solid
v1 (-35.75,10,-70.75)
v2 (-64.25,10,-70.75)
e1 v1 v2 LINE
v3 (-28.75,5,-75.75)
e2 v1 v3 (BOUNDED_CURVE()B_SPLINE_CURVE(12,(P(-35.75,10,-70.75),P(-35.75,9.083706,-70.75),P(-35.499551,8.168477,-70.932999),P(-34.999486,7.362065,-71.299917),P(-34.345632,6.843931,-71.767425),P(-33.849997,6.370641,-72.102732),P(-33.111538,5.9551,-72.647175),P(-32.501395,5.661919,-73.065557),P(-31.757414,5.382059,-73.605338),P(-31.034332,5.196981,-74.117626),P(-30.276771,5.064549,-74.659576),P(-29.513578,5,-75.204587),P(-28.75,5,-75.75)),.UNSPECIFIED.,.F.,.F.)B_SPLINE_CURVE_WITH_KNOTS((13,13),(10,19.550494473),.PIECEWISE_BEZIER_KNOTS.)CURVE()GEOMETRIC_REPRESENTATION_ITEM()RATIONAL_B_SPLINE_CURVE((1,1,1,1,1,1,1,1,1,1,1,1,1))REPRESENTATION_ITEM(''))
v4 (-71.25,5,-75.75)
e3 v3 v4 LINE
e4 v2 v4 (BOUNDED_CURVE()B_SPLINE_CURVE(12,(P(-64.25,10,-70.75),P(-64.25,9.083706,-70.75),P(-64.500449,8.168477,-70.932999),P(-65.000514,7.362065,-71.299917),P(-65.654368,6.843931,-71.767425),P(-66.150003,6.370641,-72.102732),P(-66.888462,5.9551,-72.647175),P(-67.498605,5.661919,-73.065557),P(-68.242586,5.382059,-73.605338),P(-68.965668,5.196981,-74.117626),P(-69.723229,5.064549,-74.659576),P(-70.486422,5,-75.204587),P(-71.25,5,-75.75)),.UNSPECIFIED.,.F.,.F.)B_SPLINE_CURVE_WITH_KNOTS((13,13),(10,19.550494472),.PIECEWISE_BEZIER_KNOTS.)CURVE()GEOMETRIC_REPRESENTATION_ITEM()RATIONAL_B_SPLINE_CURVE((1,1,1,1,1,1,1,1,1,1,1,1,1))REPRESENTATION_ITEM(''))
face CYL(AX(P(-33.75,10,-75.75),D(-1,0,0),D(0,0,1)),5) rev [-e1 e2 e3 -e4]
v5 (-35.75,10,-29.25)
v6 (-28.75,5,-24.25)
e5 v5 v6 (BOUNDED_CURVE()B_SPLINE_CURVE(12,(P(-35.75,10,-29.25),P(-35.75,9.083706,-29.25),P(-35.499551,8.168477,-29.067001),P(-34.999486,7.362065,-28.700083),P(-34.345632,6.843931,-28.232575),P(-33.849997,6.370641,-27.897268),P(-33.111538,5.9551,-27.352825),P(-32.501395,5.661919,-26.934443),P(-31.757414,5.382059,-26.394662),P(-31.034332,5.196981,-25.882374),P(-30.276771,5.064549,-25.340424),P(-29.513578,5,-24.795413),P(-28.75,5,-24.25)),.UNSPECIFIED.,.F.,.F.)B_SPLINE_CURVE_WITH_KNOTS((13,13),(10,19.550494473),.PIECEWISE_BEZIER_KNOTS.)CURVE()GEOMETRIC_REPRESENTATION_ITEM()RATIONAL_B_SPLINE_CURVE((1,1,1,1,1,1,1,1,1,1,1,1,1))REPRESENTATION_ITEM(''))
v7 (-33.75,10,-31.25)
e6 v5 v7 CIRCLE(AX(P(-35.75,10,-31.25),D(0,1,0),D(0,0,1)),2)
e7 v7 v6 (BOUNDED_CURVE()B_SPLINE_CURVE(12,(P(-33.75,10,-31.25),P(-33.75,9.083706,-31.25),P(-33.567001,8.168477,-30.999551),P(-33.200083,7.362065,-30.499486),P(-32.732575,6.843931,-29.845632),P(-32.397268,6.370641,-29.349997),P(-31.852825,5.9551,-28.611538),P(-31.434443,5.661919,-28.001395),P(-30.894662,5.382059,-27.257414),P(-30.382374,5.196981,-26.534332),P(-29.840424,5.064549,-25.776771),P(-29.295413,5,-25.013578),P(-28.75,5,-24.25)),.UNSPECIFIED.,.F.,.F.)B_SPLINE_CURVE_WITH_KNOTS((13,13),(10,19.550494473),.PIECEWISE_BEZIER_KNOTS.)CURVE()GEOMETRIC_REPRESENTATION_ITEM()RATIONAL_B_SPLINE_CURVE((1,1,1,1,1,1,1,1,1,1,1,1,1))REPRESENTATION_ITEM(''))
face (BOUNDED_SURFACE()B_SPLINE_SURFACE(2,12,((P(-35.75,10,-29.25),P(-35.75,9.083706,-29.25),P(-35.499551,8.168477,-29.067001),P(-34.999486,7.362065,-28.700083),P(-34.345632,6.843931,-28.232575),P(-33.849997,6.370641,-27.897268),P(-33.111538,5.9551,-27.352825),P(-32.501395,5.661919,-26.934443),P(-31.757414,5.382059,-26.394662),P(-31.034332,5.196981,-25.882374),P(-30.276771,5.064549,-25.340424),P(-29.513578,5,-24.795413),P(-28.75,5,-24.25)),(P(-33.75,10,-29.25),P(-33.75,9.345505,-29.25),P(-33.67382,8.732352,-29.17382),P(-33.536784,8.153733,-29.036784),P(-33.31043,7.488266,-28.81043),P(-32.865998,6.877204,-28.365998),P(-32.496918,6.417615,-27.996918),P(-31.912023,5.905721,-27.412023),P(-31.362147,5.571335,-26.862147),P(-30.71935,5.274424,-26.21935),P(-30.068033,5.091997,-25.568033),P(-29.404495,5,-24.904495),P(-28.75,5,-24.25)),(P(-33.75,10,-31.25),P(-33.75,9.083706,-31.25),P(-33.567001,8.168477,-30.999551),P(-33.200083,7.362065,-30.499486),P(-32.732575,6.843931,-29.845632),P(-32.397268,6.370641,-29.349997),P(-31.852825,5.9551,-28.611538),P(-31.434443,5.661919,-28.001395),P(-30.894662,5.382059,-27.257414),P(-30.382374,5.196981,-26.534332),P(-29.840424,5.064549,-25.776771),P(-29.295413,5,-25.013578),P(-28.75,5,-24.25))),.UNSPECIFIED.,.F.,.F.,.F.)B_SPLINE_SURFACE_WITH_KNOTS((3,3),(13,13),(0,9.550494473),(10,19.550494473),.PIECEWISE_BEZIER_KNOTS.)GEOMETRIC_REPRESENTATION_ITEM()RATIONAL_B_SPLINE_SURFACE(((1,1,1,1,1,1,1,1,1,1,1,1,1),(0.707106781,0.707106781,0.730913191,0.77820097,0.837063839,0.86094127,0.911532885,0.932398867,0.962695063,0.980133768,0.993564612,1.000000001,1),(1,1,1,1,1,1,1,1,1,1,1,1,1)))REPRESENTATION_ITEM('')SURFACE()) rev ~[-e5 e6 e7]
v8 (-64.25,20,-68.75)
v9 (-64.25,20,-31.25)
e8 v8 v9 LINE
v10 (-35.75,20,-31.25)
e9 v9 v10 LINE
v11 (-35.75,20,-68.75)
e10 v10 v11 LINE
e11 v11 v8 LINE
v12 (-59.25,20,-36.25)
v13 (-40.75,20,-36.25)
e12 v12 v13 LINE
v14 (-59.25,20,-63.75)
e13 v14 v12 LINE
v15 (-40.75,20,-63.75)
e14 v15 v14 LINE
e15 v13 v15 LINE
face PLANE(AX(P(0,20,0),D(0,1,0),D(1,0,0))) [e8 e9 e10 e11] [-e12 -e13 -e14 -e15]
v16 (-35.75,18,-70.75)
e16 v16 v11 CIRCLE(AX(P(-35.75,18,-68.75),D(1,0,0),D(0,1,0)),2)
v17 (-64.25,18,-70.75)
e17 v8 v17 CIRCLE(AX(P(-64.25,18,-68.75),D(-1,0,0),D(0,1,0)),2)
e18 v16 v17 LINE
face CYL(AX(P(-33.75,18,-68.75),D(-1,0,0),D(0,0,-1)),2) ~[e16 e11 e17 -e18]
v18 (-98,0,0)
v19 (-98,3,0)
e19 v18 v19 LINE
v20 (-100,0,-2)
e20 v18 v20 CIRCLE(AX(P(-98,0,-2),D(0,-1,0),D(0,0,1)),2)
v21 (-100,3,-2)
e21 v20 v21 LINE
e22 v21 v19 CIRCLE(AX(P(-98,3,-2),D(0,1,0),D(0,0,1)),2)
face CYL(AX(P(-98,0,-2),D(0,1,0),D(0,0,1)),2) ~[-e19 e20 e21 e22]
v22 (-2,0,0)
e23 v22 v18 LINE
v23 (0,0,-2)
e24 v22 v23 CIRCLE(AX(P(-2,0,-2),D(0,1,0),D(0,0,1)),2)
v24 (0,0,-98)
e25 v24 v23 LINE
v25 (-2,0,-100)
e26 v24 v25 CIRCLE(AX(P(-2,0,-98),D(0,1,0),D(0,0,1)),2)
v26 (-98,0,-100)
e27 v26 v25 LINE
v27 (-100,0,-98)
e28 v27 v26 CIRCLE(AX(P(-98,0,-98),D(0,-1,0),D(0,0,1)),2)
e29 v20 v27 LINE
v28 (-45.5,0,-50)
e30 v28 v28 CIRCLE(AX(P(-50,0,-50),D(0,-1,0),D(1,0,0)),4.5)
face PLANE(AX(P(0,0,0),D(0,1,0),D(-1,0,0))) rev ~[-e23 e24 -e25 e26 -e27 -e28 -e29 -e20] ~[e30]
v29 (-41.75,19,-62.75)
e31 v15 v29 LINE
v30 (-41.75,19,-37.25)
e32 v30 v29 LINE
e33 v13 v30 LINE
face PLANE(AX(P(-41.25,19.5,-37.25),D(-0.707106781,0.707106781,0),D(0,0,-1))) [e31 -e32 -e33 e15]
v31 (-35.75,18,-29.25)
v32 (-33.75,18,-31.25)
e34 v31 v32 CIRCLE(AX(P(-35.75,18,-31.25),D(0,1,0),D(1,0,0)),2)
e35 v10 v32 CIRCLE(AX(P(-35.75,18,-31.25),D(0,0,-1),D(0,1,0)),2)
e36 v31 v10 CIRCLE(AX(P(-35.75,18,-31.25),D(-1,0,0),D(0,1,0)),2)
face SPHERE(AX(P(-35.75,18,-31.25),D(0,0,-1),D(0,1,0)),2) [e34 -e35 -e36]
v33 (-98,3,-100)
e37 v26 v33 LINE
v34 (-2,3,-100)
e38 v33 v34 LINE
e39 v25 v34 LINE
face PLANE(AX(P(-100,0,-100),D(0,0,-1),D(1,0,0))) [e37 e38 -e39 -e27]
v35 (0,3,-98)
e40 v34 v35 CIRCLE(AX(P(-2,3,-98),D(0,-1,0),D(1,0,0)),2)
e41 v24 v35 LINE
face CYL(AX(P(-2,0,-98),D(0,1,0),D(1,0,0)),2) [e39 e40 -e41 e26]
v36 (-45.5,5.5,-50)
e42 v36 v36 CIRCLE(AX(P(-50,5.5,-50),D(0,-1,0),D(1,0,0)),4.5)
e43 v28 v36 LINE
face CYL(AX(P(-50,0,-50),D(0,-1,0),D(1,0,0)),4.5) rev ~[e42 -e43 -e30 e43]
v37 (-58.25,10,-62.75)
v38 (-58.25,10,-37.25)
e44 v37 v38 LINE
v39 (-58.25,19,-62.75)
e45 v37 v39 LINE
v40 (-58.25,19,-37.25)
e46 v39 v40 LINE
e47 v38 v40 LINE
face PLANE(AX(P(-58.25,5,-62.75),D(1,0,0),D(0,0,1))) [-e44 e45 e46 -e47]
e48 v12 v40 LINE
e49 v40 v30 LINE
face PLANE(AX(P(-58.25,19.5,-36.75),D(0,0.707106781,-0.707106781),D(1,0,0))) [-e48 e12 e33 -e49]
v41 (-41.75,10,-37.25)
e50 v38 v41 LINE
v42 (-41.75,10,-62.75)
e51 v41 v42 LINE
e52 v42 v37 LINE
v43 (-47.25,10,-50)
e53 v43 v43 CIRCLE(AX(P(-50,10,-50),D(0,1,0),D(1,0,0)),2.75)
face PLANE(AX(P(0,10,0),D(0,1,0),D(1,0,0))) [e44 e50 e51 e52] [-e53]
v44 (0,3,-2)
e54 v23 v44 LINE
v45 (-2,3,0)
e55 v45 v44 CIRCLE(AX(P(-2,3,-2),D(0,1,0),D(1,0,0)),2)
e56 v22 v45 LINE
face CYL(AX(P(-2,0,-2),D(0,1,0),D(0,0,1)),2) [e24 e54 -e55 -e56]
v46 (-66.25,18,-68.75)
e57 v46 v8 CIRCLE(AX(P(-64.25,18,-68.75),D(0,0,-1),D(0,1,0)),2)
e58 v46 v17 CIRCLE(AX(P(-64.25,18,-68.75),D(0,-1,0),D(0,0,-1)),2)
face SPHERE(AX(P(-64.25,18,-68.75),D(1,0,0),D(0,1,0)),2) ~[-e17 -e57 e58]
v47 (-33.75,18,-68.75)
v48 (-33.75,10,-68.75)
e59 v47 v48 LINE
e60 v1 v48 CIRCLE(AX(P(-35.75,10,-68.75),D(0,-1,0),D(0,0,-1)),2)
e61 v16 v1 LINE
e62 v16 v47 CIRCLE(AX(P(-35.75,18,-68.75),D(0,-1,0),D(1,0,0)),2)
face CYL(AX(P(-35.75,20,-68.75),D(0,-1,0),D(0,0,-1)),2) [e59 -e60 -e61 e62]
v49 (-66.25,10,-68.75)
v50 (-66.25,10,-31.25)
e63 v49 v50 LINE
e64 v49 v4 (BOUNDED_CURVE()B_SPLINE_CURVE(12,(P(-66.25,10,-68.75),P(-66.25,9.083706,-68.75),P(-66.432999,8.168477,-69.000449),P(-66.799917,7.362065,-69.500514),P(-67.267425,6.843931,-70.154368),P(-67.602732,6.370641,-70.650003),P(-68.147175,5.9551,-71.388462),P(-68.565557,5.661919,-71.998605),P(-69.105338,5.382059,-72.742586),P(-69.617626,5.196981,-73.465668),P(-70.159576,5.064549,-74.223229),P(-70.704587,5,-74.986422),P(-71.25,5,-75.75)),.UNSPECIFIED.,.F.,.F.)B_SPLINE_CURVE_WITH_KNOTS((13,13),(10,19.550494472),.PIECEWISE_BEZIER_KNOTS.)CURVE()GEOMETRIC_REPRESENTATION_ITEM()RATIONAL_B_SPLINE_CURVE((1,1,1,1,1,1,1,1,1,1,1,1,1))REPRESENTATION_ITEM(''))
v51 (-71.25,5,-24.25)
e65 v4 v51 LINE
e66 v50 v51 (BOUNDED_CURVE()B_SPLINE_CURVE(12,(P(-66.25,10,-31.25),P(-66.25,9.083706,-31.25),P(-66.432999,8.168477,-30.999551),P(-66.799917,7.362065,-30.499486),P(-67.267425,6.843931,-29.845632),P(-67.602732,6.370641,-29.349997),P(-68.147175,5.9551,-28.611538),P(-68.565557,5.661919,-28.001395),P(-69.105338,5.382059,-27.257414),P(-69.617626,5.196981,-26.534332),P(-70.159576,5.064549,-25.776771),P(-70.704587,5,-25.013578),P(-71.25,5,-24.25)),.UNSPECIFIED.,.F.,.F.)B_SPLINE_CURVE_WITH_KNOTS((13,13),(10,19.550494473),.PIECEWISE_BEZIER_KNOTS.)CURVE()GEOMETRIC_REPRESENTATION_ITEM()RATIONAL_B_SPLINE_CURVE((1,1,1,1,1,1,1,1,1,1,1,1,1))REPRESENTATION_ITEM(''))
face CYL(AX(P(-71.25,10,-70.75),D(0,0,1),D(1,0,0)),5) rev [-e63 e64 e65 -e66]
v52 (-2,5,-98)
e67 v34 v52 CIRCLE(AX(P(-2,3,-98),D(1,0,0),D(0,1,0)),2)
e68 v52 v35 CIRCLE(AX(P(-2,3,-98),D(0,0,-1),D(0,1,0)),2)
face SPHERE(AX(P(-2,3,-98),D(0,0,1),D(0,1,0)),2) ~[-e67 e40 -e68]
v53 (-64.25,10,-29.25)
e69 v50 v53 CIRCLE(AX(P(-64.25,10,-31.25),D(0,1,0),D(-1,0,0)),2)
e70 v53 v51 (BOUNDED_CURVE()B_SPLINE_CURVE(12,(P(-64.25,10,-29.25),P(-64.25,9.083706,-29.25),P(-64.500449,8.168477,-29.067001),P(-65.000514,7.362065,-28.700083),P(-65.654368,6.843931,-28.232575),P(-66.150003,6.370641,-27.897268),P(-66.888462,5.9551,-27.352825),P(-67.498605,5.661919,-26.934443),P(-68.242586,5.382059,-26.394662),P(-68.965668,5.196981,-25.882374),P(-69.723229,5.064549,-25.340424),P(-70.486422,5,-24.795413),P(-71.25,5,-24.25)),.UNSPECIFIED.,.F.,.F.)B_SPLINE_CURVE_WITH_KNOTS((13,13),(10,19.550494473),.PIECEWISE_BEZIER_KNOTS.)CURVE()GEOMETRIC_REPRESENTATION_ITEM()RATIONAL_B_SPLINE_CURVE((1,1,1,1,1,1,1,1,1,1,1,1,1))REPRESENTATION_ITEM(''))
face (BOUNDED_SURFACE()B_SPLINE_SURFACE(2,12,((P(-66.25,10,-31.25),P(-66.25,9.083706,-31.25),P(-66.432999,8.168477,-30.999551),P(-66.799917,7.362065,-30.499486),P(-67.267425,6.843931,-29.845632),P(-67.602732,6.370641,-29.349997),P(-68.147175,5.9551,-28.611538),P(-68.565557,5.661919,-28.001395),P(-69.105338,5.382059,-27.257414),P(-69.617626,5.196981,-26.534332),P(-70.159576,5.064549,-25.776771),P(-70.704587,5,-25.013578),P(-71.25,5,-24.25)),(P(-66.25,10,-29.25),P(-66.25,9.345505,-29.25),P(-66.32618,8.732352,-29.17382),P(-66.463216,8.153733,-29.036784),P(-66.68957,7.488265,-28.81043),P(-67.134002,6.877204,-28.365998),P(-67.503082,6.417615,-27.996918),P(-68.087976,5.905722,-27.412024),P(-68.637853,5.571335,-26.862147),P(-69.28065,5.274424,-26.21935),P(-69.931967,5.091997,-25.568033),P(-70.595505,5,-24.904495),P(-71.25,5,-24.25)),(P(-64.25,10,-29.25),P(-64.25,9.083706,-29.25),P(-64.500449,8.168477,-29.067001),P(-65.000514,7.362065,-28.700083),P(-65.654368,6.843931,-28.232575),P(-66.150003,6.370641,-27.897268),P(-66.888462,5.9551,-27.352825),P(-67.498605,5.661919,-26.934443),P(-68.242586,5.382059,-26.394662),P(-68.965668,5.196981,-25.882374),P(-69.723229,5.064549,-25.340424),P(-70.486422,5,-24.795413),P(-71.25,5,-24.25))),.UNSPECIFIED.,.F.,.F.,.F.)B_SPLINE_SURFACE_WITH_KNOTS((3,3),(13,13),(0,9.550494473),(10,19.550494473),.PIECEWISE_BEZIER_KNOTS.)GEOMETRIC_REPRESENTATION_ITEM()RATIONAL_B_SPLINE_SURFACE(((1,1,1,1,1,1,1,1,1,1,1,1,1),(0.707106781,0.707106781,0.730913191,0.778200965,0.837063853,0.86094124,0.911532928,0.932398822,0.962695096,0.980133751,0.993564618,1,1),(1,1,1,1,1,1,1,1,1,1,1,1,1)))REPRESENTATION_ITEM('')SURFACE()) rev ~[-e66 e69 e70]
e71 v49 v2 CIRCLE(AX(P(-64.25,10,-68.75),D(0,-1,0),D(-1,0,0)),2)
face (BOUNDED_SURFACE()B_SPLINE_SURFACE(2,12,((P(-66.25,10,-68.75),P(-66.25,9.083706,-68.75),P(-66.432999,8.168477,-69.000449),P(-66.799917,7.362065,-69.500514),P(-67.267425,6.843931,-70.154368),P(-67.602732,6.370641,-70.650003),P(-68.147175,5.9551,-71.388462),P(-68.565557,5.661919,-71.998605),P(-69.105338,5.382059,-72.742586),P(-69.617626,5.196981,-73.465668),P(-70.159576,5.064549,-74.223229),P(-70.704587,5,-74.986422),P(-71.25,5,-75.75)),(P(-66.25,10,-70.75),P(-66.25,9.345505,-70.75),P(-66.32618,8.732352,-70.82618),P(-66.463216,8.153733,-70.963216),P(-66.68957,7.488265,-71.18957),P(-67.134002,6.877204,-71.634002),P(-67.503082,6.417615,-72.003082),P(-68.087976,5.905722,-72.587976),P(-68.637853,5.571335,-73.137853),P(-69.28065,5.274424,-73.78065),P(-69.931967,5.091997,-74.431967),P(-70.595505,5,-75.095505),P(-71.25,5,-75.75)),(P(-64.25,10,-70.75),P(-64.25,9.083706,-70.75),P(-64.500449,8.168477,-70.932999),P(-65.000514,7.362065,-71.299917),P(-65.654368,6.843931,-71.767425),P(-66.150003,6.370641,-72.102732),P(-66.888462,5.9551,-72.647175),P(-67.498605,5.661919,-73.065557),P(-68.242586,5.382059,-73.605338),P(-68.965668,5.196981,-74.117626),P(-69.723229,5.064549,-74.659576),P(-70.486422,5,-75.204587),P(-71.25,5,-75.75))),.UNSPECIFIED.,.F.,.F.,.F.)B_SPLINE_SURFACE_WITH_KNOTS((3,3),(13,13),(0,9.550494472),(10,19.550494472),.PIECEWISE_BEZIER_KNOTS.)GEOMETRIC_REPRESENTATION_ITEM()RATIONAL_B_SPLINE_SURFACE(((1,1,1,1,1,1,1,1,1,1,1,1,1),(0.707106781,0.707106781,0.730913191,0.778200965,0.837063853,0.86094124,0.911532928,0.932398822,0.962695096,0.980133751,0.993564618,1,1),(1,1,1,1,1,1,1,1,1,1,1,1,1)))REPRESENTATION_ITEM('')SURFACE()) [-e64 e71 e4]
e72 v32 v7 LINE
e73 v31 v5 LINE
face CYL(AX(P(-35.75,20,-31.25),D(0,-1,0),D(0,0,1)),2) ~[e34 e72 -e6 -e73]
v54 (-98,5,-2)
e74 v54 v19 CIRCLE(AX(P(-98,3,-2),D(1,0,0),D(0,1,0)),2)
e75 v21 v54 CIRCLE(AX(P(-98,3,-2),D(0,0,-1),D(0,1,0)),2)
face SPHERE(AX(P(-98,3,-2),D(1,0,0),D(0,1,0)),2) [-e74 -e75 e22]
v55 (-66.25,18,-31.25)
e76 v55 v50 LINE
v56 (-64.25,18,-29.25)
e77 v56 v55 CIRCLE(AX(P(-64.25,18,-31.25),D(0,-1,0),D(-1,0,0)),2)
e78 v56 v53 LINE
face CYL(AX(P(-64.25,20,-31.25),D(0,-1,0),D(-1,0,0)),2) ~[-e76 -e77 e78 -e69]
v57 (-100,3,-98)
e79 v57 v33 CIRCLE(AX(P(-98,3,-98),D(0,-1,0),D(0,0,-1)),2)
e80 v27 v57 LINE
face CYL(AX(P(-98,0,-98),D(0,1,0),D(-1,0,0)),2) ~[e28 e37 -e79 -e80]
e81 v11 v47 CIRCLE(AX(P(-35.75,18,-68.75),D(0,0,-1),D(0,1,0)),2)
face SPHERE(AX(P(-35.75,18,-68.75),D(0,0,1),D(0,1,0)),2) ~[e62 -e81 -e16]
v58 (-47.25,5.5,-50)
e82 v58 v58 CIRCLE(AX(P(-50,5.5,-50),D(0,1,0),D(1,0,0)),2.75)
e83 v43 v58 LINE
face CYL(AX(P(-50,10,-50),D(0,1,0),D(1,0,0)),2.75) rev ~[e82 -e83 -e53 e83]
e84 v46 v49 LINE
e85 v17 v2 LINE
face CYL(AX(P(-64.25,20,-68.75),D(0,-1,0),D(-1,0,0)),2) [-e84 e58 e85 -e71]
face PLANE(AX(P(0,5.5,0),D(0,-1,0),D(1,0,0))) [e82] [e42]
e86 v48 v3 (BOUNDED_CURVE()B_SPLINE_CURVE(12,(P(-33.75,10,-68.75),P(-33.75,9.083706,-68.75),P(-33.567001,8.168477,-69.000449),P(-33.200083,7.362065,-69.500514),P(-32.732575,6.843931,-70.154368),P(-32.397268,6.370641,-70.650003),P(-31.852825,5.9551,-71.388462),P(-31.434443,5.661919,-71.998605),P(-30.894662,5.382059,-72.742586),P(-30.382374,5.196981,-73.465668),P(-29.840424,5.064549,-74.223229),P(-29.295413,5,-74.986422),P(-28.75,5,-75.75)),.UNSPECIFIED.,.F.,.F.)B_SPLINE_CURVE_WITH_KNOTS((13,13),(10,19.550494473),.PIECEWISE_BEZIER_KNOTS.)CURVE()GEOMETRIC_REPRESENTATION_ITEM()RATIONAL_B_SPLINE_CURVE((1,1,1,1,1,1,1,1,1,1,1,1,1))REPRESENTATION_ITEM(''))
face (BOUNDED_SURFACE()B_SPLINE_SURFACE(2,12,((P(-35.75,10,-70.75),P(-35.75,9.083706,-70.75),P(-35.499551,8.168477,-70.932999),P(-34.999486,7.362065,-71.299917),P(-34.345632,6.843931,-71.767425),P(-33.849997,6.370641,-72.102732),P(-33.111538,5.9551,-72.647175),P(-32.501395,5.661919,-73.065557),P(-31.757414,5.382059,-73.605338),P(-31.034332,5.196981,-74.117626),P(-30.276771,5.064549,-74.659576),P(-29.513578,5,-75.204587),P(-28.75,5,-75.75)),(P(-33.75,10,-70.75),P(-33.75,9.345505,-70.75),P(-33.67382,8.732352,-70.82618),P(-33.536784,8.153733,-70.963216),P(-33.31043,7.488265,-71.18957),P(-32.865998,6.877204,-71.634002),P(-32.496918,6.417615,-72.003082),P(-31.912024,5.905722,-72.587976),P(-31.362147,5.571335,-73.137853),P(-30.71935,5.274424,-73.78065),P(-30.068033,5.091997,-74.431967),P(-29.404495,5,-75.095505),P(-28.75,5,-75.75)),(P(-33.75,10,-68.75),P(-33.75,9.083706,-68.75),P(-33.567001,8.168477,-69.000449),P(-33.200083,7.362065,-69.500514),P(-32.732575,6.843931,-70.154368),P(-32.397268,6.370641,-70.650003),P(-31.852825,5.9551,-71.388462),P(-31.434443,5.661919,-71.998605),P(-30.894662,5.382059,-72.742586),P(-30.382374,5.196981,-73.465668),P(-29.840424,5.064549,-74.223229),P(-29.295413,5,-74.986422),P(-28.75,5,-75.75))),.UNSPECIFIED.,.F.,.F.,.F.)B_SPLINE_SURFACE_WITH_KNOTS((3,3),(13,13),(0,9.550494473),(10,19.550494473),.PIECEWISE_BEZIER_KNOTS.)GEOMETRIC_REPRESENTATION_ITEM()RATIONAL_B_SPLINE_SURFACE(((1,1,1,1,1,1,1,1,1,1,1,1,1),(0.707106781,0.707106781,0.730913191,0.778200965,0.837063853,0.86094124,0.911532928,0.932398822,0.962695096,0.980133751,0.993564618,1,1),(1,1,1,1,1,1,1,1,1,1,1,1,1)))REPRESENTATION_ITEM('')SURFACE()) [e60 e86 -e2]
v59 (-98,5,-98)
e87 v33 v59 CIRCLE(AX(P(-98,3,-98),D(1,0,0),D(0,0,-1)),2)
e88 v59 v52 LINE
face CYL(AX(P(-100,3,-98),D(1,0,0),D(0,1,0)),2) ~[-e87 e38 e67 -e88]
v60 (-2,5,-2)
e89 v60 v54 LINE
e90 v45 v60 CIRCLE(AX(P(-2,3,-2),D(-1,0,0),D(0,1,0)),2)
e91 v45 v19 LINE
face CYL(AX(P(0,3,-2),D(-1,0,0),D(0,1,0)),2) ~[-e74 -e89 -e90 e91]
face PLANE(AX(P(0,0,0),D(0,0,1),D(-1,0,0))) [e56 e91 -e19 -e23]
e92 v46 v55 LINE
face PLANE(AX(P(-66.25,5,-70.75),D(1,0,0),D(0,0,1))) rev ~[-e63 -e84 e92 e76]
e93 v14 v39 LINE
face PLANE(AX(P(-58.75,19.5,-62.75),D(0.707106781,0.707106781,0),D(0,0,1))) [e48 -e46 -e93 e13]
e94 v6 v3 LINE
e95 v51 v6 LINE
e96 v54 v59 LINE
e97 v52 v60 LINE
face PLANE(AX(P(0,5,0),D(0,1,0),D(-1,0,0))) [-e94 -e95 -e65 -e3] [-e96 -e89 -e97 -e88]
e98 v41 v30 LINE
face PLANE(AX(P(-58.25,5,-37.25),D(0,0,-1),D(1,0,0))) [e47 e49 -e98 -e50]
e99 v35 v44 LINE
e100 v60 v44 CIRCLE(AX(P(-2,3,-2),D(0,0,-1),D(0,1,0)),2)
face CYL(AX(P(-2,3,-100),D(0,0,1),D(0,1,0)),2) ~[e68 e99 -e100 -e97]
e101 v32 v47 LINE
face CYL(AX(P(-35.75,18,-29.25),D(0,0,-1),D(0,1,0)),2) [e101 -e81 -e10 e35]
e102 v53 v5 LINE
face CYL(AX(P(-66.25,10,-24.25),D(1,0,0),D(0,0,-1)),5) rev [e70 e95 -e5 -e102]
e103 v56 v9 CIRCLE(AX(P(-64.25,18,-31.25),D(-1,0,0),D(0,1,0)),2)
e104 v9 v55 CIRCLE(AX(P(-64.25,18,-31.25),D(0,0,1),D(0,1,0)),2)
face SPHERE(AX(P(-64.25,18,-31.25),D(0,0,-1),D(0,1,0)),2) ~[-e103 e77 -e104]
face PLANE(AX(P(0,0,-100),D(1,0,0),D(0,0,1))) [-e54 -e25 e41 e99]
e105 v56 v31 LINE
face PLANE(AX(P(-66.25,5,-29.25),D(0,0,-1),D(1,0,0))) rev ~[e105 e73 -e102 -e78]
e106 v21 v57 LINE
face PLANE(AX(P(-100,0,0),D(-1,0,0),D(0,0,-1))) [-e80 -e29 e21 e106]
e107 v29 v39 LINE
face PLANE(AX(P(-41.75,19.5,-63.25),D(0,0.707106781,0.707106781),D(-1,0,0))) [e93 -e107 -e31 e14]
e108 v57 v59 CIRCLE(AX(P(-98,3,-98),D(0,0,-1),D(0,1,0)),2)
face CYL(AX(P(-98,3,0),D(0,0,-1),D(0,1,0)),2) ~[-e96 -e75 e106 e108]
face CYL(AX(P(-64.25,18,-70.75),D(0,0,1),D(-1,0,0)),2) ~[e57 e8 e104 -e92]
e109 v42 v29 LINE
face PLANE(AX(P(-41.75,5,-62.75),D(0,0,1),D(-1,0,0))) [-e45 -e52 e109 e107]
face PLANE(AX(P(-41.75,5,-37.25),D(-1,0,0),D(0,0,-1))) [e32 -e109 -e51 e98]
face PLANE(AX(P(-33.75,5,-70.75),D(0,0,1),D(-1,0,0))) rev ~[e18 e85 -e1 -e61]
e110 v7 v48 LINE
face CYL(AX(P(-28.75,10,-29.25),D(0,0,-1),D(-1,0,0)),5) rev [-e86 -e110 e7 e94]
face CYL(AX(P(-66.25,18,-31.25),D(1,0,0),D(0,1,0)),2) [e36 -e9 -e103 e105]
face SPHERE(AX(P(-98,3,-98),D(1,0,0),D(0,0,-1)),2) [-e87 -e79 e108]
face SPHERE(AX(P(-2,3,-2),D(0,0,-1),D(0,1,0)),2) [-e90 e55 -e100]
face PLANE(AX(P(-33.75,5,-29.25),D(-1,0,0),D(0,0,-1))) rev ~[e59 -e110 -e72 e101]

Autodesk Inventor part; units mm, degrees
ref_plane "YZ Plane" through (0, 0, 0) normal (1, 0, 0) x (0, 1, 0)
ref_plane "XZ Plane" through (0, 0, 0) normal (0, 1, 0) x (-1, 0, 0)
ref_plane "XY Plane" through (0, 0, 0) normal (0, 0, 1) x (1, 0, 0)
sketch "Sketch1" plane through (0, 0, 0) normal (0, 1, 0) x (-1, 0, 0)
  line L0 (0, 0) -> (100, 0)
  line L1 (100, 0) -> (100, -100)
  line L2 (100, -100) -> (0, -100)
  line L3 (0, -100) -> (0, 0)
  dimension "d0" = 100
  dimension "d1" = 100
extrude "Extrusion1" add sketch "Sketch1" along normal blind 5
sketch "Sketch2" plane through (0, 5, 0) normal (0, 1, 0) x (1, 0, 0)
  line L0 (0, 100) -> (-100, 100) projected
  line L1 (-100, 100) -> (-100, 0) projected
  line L2 (-100, 0) -> (0, 0) projected
  line L3 (0, 0) -> (0, 100) projected
  line L4 (-58.25, 37.25) -> (-41.75, 37.25)
  line L5 (-41.75, 37.25) -> (-41.75, 62.75)
  line L6 (-41.75, 62.75) -> (-58.25, 62.75)
  line L7 (-58.25, 62.75) -> (-58.25, 37.25)
  line L8 (-66.25, 29.25) -> (-33.75, 29.25)
  line L9 (-33.75, 29.25) -> (-33.75, 70.75)
  line L10 (-33.75, 70.75) -> (-66.25, 70.75)
  line L11 (-66.25, 70.75) -> (-66.25, 29.25)
  line L12 (-100, 100) -> (-100, 0) construction
  line L13 (0, 100) -> (-100, 100) construction
  line L14 (-100, 0) -> (0, 100) construction
  line L15 (0, 100) -> (-100, 100) construction
  line L16 (-100, 100) -> (0, 0) construction
  line L17 (-66.25, 29.25) -> (-33.75, 70.75) construction
  line L18 (-66.25, 70.75) -> (-33.75, 29.25) construction
  point P0 (-50, 50)
  dimension "d7" = 16.5
  dimension "d8" = 25.5
  dimension "d10" = 8
extrude "Extrusion2" add sketch "Sketch2" along normal blind 15 contours L11 L10 L9 L8
sketch "Sketch3" plane through (0, 5, 0) normal (0, 1, 0) x (1, 0, 0)
  line L0 (-58.25, 37.25) -> (-41.75, 37.25) projected
  line L1 (-41.75, 37.25) -> (-41.75, 62.75) projected
  line L2 (-41.75, 62.75) -> (-58.25, 62.75) projected
  line L3 (-58.25, 62.75) -> (-58.25, 37.25) projected
  point P0 (0, 0)
extrude "Extrusion3" add sketch "Sketch3" along normal blind 5
sketch "Sketch4" plane through (0, 10, 0) normal (0, 1, 0) x (1, 0, 0)
  line L0 (-41.75, 62.75) -> (-41.75, 37.25) projected
  line L1 (-58.25, 62.75) -> (-41.75, 62.75) projected
  line L2 (-58.25, 37.25) -> (-58.25, 62.75) projected
  line L3 (-41.75, 37.25) -> (-58.25, 37.25) projected
  line L4 (-58.25, 37.25) -> (-41.75, 62.75) construction
  line L5 (-58.25, 62.75) -> (-41.75, 37.25) construction
  circle A0 centre (-50, 50) radius 2.75
  point P0 (0, 0)
  dimension "d15" = 5.5
extrude "Extrusion4" cut sketch "Sketch4" against normal through all contours A0
sketch "Sketch5" plane through (0, 0, 0) normal (0, -1, 0) x (1, 0, 0)
  circle A0 centre (-50, -50) radius 2.75 projected
  line L0 (0, -100) -> (-100, -100) projected
  line L1 (0, 0) -> (0, -100) projected
  line L2 (-100, 0) -> (0, 0) projected
  line L3 (-100, -100) -> (-100, 0) projected
  circle A1 centre (-50, -50) radius 4.5
  dimension "d18" = 9
extrude "Extrusion5" cut sketch "Sketch5" against normal blind 5.5 contours A0 | A1
fillet "Fillet1" radius 5 4 edges at (-66.25, 5, -50) (-50, 5, -70.75) (-50, 5, -29.25) (-33.75, 5, -50)
fillet "Fillet2" radius 2 20 edges at (-33.75, 20, -50) (-50, 20, -70.75) (-66.25, 20, -50) (-50, 20, -29.25) (-67.7145, 6.4645, -27.7855) (-66.25, 15, -29.25) (-67.7145, 6.4645, -72.2145) (-66.25, 15, -70.75) (-32.2855, 6.4645, -27.7855) (-33.75, 15, -29.25) (-32.2855, 6.4645, -72.2145) (-33.75, 15, -70.75) (0, 5, -50) (-50, 5, 0) (0, 2.5, 0) (-50, 5, -100) (0, 2.5, -100) (-100, 2.5, -100) (-100, 5, -50) (-100, 2.5, 0)
chamfer "Chamfer1" distance 1 angle 45 4 edges at (-58.25, 20, -50) (-50, 20, -62.75) (-50, 20, -37.25) (-41.75, 20, -50)
properties part number "base_frame"
